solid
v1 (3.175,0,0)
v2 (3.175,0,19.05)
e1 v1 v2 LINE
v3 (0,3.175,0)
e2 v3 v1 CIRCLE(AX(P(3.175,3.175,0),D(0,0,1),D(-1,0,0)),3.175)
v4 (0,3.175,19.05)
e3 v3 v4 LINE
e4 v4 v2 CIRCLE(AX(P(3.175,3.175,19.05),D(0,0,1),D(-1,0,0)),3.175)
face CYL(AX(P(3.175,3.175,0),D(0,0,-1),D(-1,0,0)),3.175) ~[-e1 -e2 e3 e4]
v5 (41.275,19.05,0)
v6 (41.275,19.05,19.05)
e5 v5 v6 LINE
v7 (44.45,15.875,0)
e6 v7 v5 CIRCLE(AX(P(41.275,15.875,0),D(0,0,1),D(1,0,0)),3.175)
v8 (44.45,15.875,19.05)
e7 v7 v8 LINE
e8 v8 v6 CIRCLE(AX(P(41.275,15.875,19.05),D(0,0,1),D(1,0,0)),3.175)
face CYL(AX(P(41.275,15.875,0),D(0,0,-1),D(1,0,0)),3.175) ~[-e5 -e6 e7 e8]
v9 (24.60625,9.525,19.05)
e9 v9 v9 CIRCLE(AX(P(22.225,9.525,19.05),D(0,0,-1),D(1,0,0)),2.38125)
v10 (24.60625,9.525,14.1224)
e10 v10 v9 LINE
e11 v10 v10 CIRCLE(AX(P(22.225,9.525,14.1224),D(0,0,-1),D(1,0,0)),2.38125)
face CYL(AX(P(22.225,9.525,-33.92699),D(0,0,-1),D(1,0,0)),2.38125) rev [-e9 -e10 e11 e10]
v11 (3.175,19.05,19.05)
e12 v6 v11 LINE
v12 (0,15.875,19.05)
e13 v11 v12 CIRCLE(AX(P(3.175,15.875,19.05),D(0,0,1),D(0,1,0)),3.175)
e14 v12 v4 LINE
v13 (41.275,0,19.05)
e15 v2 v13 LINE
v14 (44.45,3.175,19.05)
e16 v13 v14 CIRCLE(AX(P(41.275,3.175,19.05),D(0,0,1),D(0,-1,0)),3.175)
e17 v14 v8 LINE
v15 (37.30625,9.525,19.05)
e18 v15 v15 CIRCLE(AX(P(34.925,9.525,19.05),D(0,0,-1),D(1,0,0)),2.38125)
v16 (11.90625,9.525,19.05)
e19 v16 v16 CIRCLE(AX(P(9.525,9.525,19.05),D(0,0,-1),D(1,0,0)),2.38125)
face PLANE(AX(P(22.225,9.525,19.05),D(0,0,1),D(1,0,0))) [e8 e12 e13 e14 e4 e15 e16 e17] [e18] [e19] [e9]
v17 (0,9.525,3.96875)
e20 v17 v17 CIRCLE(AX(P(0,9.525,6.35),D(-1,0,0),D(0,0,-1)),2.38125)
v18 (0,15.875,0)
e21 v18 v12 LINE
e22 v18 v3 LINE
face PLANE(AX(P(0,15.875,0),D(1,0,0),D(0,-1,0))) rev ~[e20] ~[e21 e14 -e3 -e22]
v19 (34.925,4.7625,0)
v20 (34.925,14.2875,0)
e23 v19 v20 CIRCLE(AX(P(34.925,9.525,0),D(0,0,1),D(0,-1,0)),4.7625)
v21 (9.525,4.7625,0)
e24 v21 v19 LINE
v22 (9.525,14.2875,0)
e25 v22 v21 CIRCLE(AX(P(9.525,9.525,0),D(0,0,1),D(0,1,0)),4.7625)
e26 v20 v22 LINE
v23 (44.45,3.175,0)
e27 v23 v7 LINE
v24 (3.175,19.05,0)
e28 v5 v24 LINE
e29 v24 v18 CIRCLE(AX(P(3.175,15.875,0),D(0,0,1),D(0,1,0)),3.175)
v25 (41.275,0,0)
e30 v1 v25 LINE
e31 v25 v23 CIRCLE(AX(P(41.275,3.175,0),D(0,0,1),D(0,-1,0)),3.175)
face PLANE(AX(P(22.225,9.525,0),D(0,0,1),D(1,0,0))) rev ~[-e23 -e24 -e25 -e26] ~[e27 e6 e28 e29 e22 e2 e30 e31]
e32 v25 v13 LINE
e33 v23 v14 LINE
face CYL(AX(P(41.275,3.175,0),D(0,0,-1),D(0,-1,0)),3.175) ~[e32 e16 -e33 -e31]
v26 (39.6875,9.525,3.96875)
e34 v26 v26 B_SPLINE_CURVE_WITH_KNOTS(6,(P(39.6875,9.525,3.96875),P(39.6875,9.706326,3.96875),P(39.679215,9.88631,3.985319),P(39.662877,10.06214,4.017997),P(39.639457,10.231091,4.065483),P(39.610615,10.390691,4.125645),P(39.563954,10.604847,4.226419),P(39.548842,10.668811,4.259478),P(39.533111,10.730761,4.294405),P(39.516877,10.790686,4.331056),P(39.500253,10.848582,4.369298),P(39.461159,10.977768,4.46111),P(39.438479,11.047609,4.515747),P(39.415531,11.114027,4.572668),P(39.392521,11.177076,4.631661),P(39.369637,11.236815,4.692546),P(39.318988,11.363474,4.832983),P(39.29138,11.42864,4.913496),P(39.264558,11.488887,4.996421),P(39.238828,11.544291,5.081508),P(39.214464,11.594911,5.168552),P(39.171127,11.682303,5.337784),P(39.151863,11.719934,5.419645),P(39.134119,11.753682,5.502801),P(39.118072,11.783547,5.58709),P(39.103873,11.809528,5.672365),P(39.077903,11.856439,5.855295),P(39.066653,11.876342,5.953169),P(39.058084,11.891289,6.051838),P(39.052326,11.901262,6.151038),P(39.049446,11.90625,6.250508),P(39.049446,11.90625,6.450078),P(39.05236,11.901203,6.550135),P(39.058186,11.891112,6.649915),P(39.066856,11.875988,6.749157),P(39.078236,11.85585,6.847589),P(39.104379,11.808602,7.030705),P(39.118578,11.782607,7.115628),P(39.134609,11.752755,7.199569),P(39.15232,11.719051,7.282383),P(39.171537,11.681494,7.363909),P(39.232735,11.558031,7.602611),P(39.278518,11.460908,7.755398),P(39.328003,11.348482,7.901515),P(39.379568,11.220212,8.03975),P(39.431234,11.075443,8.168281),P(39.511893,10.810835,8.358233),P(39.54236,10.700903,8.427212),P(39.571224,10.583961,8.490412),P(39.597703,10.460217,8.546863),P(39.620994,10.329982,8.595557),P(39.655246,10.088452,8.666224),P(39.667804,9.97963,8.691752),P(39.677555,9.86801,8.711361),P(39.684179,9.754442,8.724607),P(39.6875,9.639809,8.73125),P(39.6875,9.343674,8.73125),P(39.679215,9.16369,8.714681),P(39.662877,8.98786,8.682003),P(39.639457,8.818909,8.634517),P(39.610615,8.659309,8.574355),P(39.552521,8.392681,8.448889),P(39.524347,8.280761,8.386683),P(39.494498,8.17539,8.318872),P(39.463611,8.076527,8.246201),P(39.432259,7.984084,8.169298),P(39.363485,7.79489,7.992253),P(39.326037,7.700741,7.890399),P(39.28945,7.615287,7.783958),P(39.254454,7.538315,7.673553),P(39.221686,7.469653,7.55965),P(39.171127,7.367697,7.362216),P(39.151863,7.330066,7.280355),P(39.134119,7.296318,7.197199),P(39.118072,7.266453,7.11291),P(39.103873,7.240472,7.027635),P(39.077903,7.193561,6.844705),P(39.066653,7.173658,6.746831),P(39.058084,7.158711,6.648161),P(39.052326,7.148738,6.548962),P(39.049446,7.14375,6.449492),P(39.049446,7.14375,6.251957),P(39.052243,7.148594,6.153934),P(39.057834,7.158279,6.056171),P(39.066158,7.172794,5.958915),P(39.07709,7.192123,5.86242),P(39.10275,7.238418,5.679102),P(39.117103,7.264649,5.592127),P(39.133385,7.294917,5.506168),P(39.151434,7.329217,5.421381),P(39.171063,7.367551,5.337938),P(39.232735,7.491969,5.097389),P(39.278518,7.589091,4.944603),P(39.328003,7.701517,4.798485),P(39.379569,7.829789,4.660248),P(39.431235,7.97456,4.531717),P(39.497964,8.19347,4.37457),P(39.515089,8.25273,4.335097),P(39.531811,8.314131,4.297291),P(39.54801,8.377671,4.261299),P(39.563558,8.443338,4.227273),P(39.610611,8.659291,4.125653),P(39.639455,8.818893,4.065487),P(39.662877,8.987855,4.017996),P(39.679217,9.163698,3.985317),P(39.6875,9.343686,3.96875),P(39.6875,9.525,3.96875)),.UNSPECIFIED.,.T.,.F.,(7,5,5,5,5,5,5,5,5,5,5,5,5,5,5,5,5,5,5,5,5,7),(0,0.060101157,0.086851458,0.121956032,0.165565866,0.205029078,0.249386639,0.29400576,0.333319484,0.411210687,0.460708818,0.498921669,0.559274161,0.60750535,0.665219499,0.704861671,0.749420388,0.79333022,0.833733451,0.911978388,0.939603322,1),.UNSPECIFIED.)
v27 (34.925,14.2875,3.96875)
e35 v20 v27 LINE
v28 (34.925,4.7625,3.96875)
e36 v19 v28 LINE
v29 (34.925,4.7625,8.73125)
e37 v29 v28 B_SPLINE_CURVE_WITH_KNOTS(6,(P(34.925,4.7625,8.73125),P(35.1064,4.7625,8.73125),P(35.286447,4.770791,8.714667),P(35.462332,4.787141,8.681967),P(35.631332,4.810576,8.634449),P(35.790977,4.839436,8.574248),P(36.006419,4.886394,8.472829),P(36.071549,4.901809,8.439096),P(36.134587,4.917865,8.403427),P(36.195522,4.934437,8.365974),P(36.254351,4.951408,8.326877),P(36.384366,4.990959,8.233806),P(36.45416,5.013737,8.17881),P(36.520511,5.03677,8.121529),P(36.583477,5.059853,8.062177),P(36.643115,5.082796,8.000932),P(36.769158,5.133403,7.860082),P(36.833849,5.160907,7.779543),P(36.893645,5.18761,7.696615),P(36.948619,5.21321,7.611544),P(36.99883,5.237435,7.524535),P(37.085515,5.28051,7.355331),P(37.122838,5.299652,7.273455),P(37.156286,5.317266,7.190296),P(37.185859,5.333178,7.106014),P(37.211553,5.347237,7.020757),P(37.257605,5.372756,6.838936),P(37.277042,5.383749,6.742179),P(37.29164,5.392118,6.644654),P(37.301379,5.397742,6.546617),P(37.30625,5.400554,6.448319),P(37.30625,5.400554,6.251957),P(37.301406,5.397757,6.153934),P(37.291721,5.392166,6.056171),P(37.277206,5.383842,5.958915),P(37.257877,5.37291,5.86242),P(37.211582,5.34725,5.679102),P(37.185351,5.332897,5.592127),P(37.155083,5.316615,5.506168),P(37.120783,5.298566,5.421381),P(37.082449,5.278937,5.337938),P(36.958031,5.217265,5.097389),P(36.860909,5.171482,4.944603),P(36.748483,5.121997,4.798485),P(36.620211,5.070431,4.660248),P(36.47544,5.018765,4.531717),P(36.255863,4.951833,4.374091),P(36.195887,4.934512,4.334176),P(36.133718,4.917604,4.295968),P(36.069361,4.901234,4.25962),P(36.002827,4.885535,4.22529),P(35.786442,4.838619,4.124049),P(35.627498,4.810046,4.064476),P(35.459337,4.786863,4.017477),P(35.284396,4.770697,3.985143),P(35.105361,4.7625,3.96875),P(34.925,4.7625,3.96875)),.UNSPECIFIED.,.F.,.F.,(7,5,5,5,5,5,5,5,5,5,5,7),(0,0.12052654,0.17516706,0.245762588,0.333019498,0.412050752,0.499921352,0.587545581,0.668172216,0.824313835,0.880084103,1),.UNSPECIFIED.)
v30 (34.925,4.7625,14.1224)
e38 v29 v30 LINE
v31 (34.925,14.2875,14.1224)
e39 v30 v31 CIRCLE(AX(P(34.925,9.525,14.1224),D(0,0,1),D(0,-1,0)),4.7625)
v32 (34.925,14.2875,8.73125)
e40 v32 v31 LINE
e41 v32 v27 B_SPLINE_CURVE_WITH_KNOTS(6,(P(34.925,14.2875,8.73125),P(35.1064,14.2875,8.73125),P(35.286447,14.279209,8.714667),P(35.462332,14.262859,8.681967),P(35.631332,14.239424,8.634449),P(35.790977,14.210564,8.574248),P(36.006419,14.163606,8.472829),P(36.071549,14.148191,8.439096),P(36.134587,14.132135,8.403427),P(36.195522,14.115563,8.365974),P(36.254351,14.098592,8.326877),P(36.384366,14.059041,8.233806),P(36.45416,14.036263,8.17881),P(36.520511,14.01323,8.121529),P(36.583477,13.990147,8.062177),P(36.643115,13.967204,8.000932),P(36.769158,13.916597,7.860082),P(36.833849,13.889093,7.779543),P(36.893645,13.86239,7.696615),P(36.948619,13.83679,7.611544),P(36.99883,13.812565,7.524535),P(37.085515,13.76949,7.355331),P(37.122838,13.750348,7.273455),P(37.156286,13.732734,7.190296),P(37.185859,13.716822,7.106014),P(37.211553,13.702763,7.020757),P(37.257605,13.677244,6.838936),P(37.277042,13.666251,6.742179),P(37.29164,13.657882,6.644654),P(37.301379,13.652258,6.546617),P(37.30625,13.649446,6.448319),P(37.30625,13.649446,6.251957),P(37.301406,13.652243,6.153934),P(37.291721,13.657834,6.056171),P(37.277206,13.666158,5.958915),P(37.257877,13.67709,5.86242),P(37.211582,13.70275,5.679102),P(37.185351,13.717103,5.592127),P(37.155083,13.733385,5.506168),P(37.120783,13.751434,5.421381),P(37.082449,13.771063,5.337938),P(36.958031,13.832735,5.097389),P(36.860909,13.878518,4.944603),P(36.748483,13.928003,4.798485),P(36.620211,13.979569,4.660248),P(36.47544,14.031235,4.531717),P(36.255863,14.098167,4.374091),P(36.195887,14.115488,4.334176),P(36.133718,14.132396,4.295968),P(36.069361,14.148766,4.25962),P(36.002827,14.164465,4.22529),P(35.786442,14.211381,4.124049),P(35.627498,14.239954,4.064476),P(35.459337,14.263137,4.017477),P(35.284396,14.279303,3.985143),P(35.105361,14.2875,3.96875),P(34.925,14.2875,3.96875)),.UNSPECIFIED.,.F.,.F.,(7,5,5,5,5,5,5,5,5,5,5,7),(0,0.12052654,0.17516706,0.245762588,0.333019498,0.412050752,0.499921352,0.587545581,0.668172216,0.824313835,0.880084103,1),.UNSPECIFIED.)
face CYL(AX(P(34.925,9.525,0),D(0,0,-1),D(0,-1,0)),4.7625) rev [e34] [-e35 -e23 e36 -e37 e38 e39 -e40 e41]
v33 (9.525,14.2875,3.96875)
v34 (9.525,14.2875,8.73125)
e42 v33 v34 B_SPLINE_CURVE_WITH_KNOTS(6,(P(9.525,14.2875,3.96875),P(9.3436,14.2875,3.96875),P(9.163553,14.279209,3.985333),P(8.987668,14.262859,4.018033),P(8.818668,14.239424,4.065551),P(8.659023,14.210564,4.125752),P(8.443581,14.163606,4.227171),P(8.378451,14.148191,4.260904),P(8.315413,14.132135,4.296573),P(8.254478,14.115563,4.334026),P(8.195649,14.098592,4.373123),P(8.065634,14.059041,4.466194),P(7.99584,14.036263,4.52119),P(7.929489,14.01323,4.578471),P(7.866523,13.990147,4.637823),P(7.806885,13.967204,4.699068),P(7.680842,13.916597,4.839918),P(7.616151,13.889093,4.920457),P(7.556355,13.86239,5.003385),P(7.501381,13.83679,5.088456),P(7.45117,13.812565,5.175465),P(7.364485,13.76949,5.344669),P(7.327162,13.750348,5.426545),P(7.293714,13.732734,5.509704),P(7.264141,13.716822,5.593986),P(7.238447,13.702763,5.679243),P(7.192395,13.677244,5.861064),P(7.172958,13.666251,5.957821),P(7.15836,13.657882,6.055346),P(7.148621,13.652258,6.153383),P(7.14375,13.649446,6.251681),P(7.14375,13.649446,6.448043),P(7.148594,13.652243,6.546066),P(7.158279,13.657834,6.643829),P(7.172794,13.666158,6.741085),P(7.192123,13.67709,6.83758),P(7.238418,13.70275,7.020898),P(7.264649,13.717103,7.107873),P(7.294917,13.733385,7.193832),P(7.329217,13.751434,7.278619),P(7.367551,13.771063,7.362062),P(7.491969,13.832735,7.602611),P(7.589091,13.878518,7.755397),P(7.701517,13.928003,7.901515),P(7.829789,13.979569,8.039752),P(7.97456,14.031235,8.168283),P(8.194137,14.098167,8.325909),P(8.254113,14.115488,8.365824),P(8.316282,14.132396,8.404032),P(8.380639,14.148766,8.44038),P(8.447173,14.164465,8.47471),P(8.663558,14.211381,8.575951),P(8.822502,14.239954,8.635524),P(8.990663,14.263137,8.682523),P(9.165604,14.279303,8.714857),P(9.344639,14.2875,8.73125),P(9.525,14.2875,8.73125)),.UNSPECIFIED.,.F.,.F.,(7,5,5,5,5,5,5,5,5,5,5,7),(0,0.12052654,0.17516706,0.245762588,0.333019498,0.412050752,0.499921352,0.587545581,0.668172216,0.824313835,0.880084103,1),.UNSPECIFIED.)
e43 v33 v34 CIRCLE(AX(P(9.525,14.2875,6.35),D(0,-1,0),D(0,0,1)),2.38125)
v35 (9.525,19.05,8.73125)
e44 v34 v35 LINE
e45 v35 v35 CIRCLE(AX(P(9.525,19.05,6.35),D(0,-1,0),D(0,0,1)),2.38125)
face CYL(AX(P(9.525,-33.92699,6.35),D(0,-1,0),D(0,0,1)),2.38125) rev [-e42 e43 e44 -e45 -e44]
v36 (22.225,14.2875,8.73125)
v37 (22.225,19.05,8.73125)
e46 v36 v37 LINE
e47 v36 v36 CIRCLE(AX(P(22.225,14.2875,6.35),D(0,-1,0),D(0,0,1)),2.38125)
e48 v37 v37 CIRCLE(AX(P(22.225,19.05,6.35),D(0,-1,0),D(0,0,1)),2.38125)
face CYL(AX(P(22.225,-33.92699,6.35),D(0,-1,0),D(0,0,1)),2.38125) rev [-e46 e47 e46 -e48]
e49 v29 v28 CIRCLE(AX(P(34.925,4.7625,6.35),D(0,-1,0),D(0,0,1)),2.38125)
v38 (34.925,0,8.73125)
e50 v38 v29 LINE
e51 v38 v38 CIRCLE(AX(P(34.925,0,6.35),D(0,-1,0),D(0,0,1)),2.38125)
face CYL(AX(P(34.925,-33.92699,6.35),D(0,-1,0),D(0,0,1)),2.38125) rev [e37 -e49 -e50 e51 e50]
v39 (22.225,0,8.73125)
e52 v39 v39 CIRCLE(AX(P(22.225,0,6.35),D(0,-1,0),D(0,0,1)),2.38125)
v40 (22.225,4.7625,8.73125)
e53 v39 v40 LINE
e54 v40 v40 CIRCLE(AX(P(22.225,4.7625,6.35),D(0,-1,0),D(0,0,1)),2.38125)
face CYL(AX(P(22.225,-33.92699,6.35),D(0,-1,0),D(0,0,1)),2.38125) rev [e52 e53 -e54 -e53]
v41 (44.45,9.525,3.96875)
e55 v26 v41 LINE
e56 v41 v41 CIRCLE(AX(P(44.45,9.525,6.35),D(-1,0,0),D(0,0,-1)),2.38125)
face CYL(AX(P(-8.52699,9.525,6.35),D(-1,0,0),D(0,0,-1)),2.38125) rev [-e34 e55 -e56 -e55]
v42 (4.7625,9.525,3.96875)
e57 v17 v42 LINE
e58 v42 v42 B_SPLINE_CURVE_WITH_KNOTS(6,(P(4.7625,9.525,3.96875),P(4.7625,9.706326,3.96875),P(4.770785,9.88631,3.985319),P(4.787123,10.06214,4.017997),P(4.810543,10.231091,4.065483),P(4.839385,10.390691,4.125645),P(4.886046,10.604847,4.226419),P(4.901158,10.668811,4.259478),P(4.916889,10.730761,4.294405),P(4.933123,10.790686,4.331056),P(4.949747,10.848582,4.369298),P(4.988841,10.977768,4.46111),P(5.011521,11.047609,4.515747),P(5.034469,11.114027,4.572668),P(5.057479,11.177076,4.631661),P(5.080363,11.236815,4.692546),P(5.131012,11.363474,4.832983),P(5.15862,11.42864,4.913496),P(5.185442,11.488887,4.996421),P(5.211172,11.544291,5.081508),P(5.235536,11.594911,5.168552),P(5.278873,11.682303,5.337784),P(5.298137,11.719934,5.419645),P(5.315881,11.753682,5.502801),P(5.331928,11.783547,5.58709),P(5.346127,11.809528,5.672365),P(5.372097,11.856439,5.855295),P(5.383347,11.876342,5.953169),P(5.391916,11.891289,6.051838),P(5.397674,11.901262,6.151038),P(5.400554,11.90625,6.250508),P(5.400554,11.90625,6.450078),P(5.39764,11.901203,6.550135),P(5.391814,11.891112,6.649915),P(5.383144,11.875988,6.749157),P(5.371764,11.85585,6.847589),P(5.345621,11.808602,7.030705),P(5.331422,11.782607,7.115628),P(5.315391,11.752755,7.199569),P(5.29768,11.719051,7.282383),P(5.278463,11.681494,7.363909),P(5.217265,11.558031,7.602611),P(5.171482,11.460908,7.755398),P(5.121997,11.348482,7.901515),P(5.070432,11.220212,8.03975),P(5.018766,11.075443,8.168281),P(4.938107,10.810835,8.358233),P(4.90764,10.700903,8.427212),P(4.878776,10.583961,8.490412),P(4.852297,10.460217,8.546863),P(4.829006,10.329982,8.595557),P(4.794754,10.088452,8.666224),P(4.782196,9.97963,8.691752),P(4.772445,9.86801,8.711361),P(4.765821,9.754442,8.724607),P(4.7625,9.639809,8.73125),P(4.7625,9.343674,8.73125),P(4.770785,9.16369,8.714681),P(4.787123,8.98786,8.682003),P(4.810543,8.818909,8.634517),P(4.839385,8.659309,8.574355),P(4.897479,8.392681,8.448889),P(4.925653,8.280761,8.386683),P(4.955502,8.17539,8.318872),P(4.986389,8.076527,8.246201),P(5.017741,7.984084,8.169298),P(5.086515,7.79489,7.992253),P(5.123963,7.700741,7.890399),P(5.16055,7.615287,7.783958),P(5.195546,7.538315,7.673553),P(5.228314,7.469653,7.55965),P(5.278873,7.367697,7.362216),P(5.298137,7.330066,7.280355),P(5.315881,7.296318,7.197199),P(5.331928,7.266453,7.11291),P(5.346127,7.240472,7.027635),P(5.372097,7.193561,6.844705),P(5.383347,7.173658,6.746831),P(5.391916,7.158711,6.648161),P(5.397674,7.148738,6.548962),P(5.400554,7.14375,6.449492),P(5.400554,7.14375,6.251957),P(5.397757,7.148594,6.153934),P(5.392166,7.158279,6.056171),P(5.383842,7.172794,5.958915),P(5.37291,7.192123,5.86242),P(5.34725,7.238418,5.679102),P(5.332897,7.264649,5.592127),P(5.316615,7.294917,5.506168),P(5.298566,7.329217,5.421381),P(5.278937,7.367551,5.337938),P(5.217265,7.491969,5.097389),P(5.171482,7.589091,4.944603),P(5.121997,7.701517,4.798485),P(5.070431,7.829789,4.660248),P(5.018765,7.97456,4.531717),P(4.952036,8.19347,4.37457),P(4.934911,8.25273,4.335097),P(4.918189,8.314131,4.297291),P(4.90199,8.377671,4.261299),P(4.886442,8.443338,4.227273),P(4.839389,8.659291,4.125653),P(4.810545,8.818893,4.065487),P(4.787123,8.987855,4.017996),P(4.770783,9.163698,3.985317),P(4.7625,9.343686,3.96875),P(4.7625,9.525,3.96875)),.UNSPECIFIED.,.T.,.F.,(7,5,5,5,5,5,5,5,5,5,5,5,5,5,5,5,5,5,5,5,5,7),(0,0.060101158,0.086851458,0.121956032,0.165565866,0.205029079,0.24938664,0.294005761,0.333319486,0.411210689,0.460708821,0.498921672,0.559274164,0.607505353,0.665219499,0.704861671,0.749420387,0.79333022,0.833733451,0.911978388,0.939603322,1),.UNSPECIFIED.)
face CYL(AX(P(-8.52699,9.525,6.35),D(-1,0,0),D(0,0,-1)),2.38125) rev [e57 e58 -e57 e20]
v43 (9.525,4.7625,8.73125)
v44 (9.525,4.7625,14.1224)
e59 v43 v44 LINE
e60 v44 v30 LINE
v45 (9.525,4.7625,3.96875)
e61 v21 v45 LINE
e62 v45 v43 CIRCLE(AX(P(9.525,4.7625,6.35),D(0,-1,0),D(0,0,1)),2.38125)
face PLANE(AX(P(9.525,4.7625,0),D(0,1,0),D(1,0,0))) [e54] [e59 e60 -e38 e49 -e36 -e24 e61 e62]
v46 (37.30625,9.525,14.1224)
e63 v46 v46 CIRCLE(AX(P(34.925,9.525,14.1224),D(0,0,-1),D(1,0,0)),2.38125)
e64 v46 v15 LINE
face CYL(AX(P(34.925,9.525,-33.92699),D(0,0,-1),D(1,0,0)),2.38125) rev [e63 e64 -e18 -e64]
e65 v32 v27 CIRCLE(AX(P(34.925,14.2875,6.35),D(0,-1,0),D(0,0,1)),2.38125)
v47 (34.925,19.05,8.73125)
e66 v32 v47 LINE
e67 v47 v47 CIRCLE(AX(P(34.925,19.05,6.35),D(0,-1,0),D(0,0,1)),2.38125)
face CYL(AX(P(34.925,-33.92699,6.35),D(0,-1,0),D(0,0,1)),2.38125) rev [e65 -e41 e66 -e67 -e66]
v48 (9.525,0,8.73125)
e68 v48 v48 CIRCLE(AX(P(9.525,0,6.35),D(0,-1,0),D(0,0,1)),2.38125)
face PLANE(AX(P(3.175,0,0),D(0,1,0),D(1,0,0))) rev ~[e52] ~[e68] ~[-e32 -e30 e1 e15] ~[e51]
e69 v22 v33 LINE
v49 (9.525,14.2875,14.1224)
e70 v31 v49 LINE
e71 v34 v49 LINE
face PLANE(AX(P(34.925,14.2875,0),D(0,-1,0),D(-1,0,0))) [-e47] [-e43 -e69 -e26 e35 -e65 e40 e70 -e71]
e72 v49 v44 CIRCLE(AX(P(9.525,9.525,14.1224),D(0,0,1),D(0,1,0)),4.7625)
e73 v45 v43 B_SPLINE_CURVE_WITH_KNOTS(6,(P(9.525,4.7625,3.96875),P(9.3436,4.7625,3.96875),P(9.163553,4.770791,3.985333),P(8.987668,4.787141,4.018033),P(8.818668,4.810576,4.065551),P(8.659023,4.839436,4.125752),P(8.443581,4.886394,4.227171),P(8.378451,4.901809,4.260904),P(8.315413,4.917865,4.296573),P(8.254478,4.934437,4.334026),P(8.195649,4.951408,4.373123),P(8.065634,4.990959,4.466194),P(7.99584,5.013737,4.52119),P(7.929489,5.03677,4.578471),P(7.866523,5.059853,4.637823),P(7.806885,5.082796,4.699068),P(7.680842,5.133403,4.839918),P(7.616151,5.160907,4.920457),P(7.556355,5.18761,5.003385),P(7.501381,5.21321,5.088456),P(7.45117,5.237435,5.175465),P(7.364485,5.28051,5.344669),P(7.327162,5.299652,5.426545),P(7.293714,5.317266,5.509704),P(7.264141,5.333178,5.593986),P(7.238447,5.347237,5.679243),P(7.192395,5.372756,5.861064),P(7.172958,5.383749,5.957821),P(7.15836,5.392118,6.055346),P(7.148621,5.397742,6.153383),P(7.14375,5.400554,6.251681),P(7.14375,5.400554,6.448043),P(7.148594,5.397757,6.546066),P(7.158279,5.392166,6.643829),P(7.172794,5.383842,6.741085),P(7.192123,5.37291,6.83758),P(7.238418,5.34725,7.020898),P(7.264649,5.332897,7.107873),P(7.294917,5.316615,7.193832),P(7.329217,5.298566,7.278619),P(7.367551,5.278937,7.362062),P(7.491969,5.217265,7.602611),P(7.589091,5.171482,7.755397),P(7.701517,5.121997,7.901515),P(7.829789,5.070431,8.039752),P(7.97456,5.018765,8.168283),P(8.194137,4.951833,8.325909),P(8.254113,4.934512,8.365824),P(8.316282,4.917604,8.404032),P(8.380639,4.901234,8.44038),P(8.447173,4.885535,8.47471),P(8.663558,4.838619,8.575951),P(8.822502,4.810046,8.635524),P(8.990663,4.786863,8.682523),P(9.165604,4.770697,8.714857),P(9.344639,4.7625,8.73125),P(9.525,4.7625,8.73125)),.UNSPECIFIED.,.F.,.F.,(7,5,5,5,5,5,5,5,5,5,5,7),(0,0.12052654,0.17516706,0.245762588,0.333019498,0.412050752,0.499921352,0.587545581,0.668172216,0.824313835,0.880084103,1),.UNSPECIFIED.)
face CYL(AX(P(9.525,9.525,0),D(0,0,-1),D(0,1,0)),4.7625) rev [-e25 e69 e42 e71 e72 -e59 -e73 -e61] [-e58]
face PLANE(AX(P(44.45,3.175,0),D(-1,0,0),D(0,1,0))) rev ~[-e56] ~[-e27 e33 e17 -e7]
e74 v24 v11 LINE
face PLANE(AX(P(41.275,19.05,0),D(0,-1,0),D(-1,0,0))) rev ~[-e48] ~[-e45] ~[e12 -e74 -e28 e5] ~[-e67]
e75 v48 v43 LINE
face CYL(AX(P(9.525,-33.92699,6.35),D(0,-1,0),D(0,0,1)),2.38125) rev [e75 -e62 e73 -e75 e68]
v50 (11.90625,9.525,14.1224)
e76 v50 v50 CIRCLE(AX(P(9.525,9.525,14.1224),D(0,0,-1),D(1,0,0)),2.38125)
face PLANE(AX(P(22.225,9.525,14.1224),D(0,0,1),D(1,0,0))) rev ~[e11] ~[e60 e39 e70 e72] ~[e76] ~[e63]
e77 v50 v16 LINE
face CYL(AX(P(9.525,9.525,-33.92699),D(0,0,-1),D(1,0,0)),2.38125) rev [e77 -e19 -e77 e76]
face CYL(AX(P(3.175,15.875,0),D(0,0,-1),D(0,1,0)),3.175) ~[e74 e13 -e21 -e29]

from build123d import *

# Parameters (mm, degrees)
BOSS_EXTRUDE1_DEPTH     = 19.05
CUT_EXTRUDE1_DEPTH      = 14.1224
CUT_EXTRUDE2_DEPTH      = 52.976990101
CUT_EXTRUDE2_DEPTH_BACK = 52.976990101
SKETCH4_R               = 2.38125
CUT_EXTRUDE3_DEPTH      = 52.976990138
CUT_EXTRUDE3_DEPTH_BACK = 52.976990138
SKETCH5_R               = 2.38125
CUT_EXTRUDE4_DEPTH      = 52.97699026
CUT_EXTRUDE4_DEPTH_BACK = 52.97699026
SKETCH7_R               = 2.38125


with BuildPart() as part:
    # Sketch2 → Boss-Extrude1 (new body)
    with BuildSketch(Plane.XY):
        with BuildLine():
            Line((3.175, 0), (41.275, 0))
            ThreePointArc((41.275, 0), (43.52006403, 0.92993597), (44.45, 3.175))
            Line((44.45, 3.175), (44.45, 15.875))
            ThreePointArc((44.45, 15.875), (43.52006403, 18.12006403), (41.275, 19.05))
            Line((41.275, 19.05), (3.175, 19.05))
            ThreePointArc((3.175, 19.05), (0.92993597, 18.12006403), (0, 15.875))
            Line((0, 15.875), (0, 3.175))
            ThreePointArc((0, 3.175), (0.92993597, 0.92993597), (3.175, 0))
        make_face()
    extrude(amount=BOSS_EXTRUDE1_DEPTH)

    # Sketch3 → Cut-Extrude1 (cut)
    with BuildSketch(Plane(origin=(0, 0, 0), x_dir=(-1, 0, 0), z_dir=(0, 0, -1))):
        with BuildLine():
            Line((-34.925, 14.2875), (-9.525, 14.2875))
            ThreePointArc((-9.525, 14.2875), (-4.7625, 9.525), (-9.525, 4.7625))
            Line((-9.525, 4.7625), (-34.925, 4.7625))
            ThreePointArc((-34.925, 4.7625), (-39.6875, 9.525), (-34.925, 14.2875))
        make_face()
    extrude(amount=-CUT_EXTRUDE1_DEPTH, mode=Mode.SUBTRACT)

    # Sketch4 → Cut-Extrude2 (cut, two sides: drawn at the far end of the back side and taken through both)
    with BuildSketch(Plane(origin=(0, 19.05, 0), x_dir=(1, 0, 0), z_dir=(0, 1, 0)).offset(-CUT_EXTRUDE2_DEPTH_BACK)):
        with Locations(Location((34.925, -6.35, 0), (0, 0, 270))):
            Circle(SKETCH4_R)
        with Locations(Location((22.225, -6.35, 0), (0, 0, 270))):
            Circle(SKETCH4_R)
        with Locations(Location((9.525, -6.35, 0), (0, 0, 270))):
            Circle(SKETCH4_R)
    extrude(amount=CUT_EXTRUDE2_DEPTH + CUT_EXTRUDE2_DEPTH_BACK, mode=Mode.SUBTRACT)

    # Sketch5 → Cut-Extrude3 (cut, two sides: drawn at the far end of the back side and taken through both)
    with BuildSketch(Plane(origin=(44.45, 0, 0), x_dir=(0, 0, -1), z_dir=(1, 0, 0)).offset(-CUT_EXTRUDE3_DEPTH_BACK)):
        with Locations((-6.35, 9.525)):
            Circle(SKETCH5_R)
    extrude(amount=CUT_EXTRUDE3_DEPTH + CUT_EXTRUDE3_DEPTH_BACK, mode=Mode.SUBTRACT)

    # Sketch7 → Cut-Extrude4 (cut, two sides: drawn at the far end of the back side and taken through both)
    with BuildSketch(Plane.XY.offset(19.05).offset(-CUT_EXTRUDE4_DEPTH_BACK)):
        with Locations((22.225, 9.525)):
            Circle(SKETCH7_R)
        with Locations((34.925, 9.525)):
            Circle(SKETCH7_R)
        with Locations((9.525, 9.525)):
            Circle(SKETCH7_R)
    extrude(amount=CUT_EXTRUDE4_DEPTH + CUT_EXTRUDE4_DEPTH_BACK, mode=Mode.SUBTRACT)


solid = part.part
